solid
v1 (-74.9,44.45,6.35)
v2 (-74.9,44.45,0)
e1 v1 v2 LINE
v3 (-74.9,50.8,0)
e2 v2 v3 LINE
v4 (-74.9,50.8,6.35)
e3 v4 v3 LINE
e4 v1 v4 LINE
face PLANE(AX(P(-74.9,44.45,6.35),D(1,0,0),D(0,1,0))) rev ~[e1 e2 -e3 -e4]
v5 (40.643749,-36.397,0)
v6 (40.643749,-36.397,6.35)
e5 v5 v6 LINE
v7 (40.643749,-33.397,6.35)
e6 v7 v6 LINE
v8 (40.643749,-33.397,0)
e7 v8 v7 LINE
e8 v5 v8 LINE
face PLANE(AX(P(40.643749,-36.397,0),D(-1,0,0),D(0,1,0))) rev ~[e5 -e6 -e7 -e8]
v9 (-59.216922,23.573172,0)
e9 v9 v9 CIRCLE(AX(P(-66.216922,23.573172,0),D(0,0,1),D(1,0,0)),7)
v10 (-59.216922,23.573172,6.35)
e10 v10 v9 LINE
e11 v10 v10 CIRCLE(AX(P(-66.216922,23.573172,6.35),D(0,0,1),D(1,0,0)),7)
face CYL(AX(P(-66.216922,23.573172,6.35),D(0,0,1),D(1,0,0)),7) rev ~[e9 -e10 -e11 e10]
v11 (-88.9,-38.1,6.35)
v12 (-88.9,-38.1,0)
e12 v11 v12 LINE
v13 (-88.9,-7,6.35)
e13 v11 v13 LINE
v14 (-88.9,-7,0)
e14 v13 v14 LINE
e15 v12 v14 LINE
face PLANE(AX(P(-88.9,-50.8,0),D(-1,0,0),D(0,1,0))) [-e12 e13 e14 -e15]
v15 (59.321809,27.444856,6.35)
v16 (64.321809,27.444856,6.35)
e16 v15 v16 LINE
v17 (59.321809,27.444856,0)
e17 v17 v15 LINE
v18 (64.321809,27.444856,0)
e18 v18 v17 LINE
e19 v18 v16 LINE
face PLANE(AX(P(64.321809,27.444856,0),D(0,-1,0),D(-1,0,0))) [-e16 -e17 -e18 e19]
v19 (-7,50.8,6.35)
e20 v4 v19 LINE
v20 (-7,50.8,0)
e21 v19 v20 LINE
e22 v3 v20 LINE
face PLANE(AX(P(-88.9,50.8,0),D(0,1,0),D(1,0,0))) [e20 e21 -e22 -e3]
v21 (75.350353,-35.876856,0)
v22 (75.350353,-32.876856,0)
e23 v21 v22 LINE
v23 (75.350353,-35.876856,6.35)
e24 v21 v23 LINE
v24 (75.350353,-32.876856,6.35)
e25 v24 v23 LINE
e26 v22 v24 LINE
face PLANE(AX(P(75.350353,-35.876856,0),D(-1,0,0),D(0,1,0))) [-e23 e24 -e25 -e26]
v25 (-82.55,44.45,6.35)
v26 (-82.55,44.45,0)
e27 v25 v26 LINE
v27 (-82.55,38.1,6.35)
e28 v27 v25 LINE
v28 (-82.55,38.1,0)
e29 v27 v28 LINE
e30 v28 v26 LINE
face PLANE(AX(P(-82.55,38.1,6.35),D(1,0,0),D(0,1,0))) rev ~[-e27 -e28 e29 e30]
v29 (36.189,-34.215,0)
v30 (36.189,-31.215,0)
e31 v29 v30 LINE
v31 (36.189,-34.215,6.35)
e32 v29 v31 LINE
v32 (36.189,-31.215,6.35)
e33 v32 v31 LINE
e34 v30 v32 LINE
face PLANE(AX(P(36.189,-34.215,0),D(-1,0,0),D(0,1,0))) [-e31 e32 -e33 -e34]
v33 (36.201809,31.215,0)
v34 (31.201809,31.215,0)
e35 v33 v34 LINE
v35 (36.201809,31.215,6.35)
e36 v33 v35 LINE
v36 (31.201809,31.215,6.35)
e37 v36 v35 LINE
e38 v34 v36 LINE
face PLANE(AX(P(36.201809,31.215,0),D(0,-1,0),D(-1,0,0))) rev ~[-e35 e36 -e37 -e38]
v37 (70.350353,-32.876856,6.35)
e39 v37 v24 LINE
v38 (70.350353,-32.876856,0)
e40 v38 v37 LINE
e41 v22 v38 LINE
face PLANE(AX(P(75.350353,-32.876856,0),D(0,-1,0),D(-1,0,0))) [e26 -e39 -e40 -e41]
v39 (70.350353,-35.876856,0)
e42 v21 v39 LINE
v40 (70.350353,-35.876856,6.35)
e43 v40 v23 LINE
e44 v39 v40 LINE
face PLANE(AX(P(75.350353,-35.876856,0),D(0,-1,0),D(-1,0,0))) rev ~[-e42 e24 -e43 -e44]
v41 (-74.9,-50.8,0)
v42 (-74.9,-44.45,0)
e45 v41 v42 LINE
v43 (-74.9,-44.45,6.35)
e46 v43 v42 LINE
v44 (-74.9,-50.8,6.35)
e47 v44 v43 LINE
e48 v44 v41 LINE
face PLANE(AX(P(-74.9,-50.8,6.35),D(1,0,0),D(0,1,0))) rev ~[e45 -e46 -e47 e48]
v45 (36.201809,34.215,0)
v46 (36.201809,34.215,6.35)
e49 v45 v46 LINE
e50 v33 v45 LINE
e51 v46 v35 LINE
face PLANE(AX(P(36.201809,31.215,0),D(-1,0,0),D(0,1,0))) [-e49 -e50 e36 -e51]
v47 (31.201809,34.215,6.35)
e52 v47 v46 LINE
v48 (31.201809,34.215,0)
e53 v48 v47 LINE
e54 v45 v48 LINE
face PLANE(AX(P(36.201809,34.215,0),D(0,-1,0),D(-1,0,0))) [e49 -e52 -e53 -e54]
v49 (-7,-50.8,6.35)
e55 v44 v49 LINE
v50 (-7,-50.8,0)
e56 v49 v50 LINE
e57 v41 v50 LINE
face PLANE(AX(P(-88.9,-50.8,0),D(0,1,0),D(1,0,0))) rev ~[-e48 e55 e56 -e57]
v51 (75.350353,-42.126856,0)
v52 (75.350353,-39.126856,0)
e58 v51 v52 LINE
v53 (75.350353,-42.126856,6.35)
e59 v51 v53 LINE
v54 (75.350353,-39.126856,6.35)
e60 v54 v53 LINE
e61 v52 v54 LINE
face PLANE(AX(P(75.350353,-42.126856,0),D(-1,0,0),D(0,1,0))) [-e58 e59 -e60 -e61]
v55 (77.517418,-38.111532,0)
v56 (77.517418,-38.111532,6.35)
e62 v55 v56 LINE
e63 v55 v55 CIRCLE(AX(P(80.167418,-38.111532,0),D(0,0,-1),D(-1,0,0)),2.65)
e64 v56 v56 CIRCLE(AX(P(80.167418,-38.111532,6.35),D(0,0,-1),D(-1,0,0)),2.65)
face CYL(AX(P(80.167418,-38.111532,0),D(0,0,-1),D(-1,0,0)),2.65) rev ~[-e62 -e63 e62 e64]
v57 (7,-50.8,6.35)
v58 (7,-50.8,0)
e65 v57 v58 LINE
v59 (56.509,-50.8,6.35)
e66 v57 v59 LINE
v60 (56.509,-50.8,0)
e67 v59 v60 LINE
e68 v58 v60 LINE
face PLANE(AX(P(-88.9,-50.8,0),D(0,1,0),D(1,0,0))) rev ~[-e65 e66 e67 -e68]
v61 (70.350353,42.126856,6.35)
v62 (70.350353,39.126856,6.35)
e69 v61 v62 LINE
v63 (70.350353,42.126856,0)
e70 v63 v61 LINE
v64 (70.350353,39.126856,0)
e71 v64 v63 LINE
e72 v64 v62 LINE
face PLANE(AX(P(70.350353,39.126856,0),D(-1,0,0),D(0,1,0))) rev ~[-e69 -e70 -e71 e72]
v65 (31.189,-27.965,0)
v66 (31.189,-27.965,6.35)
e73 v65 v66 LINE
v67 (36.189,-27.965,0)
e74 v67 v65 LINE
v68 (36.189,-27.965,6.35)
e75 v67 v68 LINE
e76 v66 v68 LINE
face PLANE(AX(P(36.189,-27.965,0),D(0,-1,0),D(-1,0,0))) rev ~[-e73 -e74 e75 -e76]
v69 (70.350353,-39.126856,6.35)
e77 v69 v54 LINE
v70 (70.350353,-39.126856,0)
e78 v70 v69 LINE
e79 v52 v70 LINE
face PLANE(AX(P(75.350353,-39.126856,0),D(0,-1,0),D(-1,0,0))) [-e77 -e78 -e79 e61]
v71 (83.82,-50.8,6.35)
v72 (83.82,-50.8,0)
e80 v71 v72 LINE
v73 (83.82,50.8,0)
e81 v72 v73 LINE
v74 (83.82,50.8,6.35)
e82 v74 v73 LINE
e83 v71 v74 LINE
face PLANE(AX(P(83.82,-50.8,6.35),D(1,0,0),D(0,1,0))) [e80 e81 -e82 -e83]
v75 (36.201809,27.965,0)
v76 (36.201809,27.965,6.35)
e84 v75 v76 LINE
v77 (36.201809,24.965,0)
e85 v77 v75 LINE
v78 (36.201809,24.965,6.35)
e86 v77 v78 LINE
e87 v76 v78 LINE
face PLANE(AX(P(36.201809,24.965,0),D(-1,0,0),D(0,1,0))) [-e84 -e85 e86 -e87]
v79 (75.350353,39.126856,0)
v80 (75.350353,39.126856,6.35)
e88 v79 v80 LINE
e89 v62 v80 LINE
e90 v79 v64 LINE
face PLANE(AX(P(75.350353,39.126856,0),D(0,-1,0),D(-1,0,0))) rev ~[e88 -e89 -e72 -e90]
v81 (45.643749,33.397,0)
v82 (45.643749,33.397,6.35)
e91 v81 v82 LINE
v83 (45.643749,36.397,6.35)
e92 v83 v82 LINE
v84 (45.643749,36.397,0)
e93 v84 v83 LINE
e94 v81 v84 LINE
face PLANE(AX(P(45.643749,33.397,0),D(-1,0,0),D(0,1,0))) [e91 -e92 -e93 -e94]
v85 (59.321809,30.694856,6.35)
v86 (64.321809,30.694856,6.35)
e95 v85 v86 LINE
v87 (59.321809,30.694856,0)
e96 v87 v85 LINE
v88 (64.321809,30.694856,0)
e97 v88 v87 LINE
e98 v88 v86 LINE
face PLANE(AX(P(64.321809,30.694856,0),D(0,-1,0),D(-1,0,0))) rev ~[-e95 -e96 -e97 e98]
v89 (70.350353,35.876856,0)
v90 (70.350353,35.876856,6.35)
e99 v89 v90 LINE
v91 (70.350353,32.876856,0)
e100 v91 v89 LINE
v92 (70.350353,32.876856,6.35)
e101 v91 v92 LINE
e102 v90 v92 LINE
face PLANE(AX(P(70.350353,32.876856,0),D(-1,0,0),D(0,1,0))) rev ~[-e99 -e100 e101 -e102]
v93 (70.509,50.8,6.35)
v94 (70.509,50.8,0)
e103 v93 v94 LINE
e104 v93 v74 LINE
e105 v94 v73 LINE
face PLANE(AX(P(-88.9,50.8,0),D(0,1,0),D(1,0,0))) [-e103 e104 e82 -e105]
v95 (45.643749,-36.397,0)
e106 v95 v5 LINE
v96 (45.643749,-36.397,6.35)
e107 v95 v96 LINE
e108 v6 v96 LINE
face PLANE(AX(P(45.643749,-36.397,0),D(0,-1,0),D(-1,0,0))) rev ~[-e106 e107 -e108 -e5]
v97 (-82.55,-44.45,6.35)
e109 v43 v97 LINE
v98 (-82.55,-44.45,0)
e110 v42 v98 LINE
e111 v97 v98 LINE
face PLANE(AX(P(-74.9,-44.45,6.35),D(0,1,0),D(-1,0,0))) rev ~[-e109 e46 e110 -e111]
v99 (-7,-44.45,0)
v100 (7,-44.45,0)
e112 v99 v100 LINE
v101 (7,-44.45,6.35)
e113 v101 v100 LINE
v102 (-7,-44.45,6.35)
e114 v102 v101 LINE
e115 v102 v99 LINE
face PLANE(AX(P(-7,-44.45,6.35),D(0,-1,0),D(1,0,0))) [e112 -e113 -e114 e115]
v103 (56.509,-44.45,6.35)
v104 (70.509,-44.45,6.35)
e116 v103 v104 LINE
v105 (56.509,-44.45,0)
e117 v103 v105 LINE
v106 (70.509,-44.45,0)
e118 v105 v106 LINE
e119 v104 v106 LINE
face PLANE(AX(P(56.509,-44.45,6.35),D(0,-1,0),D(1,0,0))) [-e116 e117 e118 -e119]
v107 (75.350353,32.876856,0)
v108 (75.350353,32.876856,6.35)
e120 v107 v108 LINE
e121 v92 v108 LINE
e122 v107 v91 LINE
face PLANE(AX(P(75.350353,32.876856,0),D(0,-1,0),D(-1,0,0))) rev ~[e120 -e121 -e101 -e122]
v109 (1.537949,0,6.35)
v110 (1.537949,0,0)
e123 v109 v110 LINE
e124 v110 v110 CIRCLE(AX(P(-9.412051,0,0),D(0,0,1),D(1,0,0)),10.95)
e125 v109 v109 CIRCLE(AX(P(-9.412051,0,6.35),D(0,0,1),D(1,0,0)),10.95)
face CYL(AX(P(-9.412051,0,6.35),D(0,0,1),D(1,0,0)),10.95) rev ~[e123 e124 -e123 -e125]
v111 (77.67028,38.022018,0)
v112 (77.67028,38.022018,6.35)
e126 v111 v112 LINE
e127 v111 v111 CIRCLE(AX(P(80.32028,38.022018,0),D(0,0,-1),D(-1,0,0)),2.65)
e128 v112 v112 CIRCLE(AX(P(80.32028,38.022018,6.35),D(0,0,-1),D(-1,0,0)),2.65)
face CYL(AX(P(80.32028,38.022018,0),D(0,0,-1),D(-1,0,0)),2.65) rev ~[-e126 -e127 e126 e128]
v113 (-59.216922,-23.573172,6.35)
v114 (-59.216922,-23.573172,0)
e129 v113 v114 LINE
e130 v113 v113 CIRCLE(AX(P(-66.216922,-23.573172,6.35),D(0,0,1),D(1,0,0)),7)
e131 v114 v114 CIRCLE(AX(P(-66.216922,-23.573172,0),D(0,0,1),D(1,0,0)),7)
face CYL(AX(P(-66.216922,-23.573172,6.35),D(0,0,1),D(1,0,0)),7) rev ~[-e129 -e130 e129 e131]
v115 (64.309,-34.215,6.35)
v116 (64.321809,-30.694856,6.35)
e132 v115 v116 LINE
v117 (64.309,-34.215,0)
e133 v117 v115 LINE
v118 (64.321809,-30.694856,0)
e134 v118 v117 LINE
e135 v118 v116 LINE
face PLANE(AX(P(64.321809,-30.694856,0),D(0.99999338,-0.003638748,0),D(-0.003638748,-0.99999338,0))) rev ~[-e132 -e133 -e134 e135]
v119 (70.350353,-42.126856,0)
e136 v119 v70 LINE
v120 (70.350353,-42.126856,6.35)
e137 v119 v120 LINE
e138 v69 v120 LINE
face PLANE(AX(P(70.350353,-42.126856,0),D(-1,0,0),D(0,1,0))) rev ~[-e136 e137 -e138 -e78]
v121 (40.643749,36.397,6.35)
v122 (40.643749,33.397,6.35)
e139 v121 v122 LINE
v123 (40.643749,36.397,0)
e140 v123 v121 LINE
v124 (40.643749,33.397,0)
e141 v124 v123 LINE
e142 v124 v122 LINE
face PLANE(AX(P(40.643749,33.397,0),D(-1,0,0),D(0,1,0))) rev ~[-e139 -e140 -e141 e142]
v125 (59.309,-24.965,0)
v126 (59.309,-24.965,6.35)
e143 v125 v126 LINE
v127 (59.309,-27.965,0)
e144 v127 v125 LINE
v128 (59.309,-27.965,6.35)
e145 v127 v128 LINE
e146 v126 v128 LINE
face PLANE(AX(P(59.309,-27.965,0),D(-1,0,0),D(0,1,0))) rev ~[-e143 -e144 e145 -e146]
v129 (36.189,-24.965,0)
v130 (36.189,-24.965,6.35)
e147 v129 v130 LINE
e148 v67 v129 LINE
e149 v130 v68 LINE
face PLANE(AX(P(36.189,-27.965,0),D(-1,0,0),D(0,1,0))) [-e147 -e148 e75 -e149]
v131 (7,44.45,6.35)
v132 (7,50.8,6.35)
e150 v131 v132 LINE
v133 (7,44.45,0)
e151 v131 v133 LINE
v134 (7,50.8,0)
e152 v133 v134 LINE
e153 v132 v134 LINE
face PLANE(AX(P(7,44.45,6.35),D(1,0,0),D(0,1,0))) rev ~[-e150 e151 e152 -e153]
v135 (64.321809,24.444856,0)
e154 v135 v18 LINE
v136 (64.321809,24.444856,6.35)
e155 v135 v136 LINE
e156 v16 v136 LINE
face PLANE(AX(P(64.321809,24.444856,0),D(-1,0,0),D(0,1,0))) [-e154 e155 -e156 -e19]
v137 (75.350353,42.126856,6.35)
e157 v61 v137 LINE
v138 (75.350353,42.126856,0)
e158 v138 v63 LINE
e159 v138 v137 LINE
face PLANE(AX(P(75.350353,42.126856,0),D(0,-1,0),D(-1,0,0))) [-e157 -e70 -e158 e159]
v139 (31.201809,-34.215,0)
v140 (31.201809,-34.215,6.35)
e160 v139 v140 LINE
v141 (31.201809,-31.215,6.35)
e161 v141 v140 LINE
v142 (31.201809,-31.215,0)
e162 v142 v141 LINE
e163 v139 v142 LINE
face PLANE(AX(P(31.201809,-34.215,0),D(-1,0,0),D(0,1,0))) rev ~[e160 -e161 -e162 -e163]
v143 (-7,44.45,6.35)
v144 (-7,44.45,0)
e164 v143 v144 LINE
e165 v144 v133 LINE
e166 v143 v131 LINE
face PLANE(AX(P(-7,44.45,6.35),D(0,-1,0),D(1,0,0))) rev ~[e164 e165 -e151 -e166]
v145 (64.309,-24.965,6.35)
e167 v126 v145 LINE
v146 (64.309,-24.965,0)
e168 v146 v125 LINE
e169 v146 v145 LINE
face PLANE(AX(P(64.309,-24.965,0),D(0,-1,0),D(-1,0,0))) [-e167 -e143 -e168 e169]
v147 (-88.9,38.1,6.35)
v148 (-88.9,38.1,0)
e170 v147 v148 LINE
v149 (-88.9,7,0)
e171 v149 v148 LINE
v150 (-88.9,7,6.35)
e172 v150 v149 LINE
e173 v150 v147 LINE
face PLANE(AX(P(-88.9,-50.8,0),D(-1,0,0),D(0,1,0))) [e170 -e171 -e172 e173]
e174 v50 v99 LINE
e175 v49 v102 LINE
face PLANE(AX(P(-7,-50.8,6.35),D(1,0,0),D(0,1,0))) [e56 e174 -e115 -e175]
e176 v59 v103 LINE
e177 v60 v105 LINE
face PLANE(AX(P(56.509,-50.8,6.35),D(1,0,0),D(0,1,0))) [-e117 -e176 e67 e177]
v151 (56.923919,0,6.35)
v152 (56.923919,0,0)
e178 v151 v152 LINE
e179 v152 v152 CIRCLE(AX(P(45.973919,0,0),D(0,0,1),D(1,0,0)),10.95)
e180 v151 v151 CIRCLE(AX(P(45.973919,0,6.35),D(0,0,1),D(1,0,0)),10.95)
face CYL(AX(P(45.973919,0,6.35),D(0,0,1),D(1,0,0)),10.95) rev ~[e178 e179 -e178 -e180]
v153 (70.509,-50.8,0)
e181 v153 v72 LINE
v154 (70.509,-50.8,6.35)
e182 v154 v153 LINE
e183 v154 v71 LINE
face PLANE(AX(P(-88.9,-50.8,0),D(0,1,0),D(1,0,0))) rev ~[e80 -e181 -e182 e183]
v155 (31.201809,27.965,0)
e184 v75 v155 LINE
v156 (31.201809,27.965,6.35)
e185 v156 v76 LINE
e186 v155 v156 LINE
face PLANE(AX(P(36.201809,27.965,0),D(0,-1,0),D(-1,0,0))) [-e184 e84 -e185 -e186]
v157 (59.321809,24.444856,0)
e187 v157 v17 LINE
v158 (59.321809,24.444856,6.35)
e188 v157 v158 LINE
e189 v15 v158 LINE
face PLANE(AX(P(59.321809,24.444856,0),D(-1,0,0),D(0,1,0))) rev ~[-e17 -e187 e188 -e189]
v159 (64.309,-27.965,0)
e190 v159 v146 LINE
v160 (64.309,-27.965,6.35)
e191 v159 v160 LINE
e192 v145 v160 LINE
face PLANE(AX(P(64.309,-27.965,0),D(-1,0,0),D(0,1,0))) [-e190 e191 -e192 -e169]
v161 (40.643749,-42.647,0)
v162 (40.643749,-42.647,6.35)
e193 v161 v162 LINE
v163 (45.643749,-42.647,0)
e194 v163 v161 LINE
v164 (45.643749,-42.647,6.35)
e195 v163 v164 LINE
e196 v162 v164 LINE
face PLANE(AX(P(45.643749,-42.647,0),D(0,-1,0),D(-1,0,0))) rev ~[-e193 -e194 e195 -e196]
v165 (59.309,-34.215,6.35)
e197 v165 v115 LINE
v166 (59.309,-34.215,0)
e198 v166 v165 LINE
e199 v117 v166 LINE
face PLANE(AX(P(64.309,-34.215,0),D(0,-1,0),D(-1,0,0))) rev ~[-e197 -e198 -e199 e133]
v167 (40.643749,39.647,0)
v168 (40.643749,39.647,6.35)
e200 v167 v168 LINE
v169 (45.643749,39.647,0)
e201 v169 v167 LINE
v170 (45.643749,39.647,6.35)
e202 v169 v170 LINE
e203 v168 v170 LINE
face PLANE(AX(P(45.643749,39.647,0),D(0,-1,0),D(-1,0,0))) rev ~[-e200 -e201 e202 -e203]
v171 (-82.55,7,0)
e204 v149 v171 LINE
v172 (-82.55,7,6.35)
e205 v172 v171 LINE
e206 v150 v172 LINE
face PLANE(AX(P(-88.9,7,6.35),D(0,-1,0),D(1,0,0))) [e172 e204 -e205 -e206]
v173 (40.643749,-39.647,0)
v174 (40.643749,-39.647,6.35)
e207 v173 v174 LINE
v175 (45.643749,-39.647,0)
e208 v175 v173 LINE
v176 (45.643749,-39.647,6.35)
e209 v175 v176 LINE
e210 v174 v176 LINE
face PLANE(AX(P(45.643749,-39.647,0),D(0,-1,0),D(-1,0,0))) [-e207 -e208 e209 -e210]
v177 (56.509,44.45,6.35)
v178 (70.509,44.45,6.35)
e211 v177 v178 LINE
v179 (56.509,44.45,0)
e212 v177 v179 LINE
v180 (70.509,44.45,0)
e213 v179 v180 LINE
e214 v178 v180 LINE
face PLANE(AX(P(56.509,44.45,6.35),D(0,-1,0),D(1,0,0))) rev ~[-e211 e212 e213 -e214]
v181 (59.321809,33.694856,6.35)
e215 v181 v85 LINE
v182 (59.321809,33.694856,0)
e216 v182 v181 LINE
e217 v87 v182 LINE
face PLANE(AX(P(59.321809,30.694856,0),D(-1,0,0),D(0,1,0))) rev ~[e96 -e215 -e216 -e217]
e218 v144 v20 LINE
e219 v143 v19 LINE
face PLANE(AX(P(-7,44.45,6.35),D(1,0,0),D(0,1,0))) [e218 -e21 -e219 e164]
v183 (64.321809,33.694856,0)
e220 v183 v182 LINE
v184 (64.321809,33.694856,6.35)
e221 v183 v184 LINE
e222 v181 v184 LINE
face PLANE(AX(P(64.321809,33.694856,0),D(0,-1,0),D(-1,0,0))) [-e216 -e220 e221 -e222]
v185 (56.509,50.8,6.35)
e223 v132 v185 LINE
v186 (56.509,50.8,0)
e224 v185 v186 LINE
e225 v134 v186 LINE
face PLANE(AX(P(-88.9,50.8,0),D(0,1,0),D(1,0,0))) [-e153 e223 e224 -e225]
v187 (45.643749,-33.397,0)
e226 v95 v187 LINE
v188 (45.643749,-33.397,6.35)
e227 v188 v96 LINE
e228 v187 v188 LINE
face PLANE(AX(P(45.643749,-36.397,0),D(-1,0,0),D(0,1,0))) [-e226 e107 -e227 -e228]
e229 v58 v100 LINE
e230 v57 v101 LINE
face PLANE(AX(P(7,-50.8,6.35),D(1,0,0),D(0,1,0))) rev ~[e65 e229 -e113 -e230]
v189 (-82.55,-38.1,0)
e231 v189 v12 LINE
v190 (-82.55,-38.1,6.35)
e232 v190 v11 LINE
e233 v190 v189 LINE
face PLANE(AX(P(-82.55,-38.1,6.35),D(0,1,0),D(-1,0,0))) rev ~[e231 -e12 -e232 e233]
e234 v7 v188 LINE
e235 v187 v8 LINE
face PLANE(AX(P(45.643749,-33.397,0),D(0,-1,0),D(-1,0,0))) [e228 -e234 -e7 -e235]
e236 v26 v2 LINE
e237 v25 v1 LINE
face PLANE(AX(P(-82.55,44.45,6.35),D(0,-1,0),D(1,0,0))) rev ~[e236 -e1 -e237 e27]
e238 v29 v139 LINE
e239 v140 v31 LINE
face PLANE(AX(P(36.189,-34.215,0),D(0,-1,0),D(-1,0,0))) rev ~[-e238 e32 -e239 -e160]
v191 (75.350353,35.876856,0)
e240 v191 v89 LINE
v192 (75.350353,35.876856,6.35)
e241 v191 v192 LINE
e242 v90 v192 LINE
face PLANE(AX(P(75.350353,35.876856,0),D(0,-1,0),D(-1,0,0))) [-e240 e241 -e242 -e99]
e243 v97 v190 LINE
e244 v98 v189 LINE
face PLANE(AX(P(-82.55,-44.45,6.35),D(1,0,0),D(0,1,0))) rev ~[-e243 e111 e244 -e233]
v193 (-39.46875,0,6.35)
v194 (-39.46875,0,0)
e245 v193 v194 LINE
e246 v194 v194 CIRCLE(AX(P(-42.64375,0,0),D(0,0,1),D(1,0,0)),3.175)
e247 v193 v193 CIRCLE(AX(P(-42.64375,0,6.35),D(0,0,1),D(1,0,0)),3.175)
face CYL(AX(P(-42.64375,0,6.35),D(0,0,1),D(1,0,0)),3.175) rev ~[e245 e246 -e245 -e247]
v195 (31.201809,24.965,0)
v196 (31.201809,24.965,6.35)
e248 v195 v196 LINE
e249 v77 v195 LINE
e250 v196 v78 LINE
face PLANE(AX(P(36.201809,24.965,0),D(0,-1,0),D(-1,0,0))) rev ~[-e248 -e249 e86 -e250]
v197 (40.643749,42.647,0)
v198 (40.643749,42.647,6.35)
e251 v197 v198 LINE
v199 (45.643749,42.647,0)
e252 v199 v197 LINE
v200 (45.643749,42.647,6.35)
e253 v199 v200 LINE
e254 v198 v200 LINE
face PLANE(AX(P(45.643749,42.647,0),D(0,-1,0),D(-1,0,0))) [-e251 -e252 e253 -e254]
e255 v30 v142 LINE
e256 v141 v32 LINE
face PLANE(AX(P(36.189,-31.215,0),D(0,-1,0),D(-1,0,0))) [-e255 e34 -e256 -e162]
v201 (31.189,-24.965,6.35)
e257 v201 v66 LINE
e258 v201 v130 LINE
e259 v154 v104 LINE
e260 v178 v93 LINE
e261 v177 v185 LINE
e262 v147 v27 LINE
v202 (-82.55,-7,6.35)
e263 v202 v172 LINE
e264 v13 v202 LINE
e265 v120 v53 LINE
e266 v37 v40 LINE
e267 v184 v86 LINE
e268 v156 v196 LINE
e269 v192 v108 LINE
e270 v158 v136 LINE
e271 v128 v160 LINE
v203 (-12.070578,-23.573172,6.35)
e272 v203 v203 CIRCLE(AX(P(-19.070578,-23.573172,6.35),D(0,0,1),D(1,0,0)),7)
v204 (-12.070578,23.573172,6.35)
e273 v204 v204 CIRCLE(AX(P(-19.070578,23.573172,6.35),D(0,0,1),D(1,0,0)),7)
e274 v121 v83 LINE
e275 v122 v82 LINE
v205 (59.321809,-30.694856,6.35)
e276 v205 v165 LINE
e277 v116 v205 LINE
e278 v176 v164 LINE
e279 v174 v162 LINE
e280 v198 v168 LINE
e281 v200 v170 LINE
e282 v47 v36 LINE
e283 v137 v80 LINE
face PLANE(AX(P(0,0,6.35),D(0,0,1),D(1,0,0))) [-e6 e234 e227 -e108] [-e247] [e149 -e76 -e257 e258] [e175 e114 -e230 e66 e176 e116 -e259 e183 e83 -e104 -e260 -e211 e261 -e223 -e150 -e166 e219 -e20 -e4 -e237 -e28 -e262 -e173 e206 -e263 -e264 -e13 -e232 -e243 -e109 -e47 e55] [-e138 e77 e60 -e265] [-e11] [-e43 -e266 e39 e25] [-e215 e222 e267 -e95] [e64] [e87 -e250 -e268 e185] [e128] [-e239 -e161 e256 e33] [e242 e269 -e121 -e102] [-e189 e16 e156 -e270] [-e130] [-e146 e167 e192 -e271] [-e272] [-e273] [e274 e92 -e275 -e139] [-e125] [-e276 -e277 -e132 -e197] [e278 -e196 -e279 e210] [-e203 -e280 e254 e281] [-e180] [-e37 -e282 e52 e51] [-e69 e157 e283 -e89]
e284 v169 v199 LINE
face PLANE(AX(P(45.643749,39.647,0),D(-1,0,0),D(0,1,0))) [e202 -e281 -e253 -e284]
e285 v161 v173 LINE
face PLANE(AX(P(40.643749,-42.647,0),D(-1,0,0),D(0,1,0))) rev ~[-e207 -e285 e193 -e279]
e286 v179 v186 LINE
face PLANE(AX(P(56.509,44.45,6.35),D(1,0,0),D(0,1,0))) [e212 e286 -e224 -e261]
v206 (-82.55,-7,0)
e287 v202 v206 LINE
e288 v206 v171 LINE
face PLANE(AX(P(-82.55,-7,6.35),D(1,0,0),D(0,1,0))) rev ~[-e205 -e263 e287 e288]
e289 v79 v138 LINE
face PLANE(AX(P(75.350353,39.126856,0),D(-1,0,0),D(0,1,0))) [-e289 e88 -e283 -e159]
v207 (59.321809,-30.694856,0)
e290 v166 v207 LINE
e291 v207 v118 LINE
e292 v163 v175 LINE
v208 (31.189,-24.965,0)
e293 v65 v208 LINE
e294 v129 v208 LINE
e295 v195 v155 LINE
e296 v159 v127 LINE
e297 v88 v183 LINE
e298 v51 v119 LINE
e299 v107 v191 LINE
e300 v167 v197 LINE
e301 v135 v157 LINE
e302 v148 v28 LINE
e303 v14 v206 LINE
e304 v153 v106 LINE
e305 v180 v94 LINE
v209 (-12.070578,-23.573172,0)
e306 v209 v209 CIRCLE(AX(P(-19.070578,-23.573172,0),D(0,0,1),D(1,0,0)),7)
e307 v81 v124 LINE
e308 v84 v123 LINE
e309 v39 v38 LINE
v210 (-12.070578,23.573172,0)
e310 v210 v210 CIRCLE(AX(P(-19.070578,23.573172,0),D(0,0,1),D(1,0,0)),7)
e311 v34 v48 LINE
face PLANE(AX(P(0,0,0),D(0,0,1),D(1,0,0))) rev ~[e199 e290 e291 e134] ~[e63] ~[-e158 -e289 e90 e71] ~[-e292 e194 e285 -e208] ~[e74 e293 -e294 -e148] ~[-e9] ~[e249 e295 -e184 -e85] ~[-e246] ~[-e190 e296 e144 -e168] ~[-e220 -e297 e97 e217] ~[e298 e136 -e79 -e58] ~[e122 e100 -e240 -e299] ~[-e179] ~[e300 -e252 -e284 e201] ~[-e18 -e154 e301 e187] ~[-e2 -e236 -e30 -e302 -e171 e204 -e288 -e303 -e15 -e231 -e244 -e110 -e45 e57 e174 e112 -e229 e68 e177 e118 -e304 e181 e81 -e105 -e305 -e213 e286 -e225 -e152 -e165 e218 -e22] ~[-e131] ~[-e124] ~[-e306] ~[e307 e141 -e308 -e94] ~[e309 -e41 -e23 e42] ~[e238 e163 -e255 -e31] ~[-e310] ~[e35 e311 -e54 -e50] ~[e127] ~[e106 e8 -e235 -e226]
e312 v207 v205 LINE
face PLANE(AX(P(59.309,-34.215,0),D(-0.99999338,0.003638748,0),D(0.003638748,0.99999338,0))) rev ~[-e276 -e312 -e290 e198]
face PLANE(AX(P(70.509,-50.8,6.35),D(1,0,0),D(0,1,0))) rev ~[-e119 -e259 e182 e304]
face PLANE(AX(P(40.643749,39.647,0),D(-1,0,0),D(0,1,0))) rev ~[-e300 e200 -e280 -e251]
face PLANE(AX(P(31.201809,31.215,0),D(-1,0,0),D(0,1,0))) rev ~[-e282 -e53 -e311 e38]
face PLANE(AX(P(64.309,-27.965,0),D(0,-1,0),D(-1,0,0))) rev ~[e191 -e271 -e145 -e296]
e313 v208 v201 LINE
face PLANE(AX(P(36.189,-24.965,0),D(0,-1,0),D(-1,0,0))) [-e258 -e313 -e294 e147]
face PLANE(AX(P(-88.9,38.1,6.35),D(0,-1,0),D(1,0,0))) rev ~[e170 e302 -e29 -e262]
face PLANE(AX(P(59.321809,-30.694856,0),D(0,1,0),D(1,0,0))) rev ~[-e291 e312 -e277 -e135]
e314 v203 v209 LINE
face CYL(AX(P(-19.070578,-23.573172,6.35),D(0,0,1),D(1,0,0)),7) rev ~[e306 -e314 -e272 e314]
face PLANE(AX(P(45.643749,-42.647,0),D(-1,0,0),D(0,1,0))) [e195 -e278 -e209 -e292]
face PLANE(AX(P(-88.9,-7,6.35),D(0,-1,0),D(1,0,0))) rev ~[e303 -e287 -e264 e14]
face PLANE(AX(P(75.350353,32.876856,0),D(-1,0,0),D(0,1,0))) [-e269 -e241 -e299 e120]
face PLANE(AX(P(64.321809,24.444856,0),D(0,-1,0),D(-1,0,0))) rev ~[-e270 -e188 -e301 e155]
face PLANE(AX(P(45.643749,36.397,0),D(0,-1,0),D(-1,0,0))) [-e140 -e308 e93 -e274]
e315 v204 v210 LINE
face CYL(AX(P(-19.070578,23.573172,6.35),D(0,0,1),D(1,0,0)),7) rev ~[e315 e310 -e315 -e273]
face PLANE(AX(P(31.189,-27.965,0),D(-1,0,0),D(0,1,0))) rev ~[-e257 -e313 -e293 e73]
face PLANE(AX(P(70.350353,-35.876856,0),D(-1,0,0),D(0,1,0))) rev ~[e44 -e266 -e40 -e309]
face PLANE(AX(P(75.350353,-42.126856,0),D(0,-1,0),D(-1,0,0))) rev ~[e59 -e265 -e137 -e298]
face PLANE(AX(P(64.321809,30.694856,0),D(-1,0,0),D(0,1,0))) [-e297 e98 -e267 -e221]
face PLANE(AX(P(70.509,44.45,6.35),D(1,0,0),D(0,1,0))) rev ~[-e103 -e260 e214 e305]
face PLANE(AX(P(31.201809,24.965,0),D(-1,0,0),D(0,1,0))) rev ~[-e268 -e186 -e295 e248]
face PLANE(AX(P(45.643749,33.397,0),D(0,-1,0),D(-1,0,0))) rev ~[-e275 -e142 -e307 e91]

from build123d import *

# Parameters (mm, degrees)
SKETCH2_W           = 177.8
SKETCH2_H           = 101.6
BOSS_EXTRUDE3_DEPTH = 6.35
SKETCH3_R           = 10.95
SKETCH3_R_2         = 3.175
SKETCH3_R_3         = 7
CUT_EXTRUDE1_DEPTH  = 103.587389576
SKETCH7_W           = 14
SKETCH7_H           = 6.35
SKETCH7_W_2         = 6.35
SKETCH7_H_2         = 14
SKETCH7_W_3         = 5.08
SKETCH7_H_3         = 101.6
CUT_EXTRUDE2_DEPTH  = 103.587389576
SKETCH8_W           = 5
SKETCH8_H           = 3
SKETCH8_W_2         = 4.987190998
SKETCH8_R           = 2.65
CUT_EXTRUDE3_DEPTH  = 103.587389576


with BuildPart() as part:
    # Sketch2 → Boss-Extrude3 (new body)
    with BuildSketch(Plane.XY):
        Rectangle(SKETCH2_W, SKETCH2_H)
    extrude(amount=BOSS_EXTRUDE3_DEPTH)

    # Sketch3 → Cut-Extrude1 (cut, through all)
    with BuildSketch(Plane.XY.offset(6.35)):
        with Locations((-9.4120506, 0)):
            Circle(SKETCH3_R)
        with Locations((-42.64375, 0)):
            Circle(SKETCH3_R_2)
        with Locations((-66.216922318, 23.573172318)):
            Circle(SKETCH3_R_3)
        with Locations((-19.070577682, 23.573172318)):
            Circle(SKETCH3_R_3)
        with Locations((-66.216922318, -23.573172318)):
            Circle(SKETCH3_R_3)
        with Locations((-19.070577682, -23.573172318)):
            Circle(SKETCH3_R_3)
        with Locations((45.9739194, 0)):
            Circle(SKETCH3_R)
    extrude(amount=-CUT_EXTRUDE1_DEPTH, mode=Mode.SUBTRACT)

    # Sketch7 → Cut-Extrude2 (cut, through all)
    with BuildSketch(Plane.XY.offset(6.35)):
        with Locations((63.509, -47.625)):
            Rectangle(SKETCH7_W, SKETCH7_H)
        with Locations((63.509, 47.625)):
            Rectangle(SKETCH7_W, SKETCH7_H)
        with Locations((0, 47.625)):
            Rectangle(SKETCH7_W, SKETCH7_H)
        with Locations((0, -47.625)):
            Rectangle(SKETCH7_W, SKETCH7_H)
        Polygon((-82.55, -38.1), (-88.9, -38.1), (-88.9, -44.45), (-88.9, -50.8), (-74.9, -50.8), (-74.9, -44.45), (-82.55, -44.45), align=None)
        with Locations((-85.725, 0)):
            Rectangle(SKETCH7_W_2, SKETCH7_H_2)
        Polygon((-88.9, 44.45), (-88.9, 38.1), (-82.55, 38.1), (-82.55, 44.45), (-74.9, 44.45), (-74.9, 50.8), (-88.9, 50.8), align=None)
        with Locations((86.36, 0)):
            Rectangle(SKETCH7_W_3, SKETCH7_H_3)
    extrude(amount=-CUT_EXTRUDE2_DEPTH, mode=Mode.SUBTRACT)

    # Sketch8 → Cut-Extrude3 (cut, through all)
    with BuildSketch(Plane(origin=(0, 0, 0), x_dir=(-1, 0, 0), z_dir=(0, 0, -1))):
        with Locations((-61.809, -26.465)):
            Rectangle(SKETCH8_W, SKETCH8_H)
        Polygon((-59.321809002, -30.694855507), (-64.321809002, -30.694855507), (-64.309, -34.215), (-59.309, -34.215), align=None)
        with Locations((-33.689, -26.465)):
            Rectangle(SKETCH8_W, SKETCH8_H)
        with Locations((-43.143748621, -41.147)):
            Rectangle(SKETCH8_W, SKETCH8_H)
        with Locations((-43.143748621, -34.897)):
            Rectangle(SKETCH8_W, SKETCH8_H)
        with Locations((-33.695404501, -32.715)):
            Rectangle(SKETCH8_W_2, SKETCH8_H)
        with Locations((-43.143748621, 41.147)):
            Rectangle(SKETCH8_W, SKETCH8_H)
        with Locations((-43.143748621, 34.897)):
            Rectangle(SKETCH8_W, SKETCH8_H)
        with Locations((-33.701809002, 32.715)):
            Rectangle(SKETCH8_W, SKETCH8_H)
        with Locations((-33.701809002, 26.465)):
            Rectangle(SKETCH8_W, SKETCH8_H)
        with Locations((-72.850352522, 40.626855507)):
            Rectangle(SKETCH8_W, SKETCH8_H)
        with Locations((-72.850352522, 34.376855507)):
            Rectangle(SKETCH8_W, SKETCH8_H)
        with Locations((-61.821809002, 32.194855507)):
            Rectangle(SKETCH8_W, SKETCH8_H)
        with Locations((-61.821809002, 25.944855507)):
            Rectangle(SKETCH8_W, SKETCH8_H)
        with Locations((-72.850352522, -34.376855507)):
            Rectangle(SKETCH8_W, SKETCH8_H)
        with Locations((-72.850352522, -40.626855507)):
            Rectangle(SKETCH8_W, SKETCH8_H)
        with Locations((-80.320280368, 38.022017825)):
            Circle(SKETCH8_R)
        with Locations((-80.167417552, -38.111532033)):
            Circle(SKETCH8_R)
    extrude(amount=-CUT_EXTRUDE3_DEPTH, mode=Mode.SUBTRACT)


solid = part.part
